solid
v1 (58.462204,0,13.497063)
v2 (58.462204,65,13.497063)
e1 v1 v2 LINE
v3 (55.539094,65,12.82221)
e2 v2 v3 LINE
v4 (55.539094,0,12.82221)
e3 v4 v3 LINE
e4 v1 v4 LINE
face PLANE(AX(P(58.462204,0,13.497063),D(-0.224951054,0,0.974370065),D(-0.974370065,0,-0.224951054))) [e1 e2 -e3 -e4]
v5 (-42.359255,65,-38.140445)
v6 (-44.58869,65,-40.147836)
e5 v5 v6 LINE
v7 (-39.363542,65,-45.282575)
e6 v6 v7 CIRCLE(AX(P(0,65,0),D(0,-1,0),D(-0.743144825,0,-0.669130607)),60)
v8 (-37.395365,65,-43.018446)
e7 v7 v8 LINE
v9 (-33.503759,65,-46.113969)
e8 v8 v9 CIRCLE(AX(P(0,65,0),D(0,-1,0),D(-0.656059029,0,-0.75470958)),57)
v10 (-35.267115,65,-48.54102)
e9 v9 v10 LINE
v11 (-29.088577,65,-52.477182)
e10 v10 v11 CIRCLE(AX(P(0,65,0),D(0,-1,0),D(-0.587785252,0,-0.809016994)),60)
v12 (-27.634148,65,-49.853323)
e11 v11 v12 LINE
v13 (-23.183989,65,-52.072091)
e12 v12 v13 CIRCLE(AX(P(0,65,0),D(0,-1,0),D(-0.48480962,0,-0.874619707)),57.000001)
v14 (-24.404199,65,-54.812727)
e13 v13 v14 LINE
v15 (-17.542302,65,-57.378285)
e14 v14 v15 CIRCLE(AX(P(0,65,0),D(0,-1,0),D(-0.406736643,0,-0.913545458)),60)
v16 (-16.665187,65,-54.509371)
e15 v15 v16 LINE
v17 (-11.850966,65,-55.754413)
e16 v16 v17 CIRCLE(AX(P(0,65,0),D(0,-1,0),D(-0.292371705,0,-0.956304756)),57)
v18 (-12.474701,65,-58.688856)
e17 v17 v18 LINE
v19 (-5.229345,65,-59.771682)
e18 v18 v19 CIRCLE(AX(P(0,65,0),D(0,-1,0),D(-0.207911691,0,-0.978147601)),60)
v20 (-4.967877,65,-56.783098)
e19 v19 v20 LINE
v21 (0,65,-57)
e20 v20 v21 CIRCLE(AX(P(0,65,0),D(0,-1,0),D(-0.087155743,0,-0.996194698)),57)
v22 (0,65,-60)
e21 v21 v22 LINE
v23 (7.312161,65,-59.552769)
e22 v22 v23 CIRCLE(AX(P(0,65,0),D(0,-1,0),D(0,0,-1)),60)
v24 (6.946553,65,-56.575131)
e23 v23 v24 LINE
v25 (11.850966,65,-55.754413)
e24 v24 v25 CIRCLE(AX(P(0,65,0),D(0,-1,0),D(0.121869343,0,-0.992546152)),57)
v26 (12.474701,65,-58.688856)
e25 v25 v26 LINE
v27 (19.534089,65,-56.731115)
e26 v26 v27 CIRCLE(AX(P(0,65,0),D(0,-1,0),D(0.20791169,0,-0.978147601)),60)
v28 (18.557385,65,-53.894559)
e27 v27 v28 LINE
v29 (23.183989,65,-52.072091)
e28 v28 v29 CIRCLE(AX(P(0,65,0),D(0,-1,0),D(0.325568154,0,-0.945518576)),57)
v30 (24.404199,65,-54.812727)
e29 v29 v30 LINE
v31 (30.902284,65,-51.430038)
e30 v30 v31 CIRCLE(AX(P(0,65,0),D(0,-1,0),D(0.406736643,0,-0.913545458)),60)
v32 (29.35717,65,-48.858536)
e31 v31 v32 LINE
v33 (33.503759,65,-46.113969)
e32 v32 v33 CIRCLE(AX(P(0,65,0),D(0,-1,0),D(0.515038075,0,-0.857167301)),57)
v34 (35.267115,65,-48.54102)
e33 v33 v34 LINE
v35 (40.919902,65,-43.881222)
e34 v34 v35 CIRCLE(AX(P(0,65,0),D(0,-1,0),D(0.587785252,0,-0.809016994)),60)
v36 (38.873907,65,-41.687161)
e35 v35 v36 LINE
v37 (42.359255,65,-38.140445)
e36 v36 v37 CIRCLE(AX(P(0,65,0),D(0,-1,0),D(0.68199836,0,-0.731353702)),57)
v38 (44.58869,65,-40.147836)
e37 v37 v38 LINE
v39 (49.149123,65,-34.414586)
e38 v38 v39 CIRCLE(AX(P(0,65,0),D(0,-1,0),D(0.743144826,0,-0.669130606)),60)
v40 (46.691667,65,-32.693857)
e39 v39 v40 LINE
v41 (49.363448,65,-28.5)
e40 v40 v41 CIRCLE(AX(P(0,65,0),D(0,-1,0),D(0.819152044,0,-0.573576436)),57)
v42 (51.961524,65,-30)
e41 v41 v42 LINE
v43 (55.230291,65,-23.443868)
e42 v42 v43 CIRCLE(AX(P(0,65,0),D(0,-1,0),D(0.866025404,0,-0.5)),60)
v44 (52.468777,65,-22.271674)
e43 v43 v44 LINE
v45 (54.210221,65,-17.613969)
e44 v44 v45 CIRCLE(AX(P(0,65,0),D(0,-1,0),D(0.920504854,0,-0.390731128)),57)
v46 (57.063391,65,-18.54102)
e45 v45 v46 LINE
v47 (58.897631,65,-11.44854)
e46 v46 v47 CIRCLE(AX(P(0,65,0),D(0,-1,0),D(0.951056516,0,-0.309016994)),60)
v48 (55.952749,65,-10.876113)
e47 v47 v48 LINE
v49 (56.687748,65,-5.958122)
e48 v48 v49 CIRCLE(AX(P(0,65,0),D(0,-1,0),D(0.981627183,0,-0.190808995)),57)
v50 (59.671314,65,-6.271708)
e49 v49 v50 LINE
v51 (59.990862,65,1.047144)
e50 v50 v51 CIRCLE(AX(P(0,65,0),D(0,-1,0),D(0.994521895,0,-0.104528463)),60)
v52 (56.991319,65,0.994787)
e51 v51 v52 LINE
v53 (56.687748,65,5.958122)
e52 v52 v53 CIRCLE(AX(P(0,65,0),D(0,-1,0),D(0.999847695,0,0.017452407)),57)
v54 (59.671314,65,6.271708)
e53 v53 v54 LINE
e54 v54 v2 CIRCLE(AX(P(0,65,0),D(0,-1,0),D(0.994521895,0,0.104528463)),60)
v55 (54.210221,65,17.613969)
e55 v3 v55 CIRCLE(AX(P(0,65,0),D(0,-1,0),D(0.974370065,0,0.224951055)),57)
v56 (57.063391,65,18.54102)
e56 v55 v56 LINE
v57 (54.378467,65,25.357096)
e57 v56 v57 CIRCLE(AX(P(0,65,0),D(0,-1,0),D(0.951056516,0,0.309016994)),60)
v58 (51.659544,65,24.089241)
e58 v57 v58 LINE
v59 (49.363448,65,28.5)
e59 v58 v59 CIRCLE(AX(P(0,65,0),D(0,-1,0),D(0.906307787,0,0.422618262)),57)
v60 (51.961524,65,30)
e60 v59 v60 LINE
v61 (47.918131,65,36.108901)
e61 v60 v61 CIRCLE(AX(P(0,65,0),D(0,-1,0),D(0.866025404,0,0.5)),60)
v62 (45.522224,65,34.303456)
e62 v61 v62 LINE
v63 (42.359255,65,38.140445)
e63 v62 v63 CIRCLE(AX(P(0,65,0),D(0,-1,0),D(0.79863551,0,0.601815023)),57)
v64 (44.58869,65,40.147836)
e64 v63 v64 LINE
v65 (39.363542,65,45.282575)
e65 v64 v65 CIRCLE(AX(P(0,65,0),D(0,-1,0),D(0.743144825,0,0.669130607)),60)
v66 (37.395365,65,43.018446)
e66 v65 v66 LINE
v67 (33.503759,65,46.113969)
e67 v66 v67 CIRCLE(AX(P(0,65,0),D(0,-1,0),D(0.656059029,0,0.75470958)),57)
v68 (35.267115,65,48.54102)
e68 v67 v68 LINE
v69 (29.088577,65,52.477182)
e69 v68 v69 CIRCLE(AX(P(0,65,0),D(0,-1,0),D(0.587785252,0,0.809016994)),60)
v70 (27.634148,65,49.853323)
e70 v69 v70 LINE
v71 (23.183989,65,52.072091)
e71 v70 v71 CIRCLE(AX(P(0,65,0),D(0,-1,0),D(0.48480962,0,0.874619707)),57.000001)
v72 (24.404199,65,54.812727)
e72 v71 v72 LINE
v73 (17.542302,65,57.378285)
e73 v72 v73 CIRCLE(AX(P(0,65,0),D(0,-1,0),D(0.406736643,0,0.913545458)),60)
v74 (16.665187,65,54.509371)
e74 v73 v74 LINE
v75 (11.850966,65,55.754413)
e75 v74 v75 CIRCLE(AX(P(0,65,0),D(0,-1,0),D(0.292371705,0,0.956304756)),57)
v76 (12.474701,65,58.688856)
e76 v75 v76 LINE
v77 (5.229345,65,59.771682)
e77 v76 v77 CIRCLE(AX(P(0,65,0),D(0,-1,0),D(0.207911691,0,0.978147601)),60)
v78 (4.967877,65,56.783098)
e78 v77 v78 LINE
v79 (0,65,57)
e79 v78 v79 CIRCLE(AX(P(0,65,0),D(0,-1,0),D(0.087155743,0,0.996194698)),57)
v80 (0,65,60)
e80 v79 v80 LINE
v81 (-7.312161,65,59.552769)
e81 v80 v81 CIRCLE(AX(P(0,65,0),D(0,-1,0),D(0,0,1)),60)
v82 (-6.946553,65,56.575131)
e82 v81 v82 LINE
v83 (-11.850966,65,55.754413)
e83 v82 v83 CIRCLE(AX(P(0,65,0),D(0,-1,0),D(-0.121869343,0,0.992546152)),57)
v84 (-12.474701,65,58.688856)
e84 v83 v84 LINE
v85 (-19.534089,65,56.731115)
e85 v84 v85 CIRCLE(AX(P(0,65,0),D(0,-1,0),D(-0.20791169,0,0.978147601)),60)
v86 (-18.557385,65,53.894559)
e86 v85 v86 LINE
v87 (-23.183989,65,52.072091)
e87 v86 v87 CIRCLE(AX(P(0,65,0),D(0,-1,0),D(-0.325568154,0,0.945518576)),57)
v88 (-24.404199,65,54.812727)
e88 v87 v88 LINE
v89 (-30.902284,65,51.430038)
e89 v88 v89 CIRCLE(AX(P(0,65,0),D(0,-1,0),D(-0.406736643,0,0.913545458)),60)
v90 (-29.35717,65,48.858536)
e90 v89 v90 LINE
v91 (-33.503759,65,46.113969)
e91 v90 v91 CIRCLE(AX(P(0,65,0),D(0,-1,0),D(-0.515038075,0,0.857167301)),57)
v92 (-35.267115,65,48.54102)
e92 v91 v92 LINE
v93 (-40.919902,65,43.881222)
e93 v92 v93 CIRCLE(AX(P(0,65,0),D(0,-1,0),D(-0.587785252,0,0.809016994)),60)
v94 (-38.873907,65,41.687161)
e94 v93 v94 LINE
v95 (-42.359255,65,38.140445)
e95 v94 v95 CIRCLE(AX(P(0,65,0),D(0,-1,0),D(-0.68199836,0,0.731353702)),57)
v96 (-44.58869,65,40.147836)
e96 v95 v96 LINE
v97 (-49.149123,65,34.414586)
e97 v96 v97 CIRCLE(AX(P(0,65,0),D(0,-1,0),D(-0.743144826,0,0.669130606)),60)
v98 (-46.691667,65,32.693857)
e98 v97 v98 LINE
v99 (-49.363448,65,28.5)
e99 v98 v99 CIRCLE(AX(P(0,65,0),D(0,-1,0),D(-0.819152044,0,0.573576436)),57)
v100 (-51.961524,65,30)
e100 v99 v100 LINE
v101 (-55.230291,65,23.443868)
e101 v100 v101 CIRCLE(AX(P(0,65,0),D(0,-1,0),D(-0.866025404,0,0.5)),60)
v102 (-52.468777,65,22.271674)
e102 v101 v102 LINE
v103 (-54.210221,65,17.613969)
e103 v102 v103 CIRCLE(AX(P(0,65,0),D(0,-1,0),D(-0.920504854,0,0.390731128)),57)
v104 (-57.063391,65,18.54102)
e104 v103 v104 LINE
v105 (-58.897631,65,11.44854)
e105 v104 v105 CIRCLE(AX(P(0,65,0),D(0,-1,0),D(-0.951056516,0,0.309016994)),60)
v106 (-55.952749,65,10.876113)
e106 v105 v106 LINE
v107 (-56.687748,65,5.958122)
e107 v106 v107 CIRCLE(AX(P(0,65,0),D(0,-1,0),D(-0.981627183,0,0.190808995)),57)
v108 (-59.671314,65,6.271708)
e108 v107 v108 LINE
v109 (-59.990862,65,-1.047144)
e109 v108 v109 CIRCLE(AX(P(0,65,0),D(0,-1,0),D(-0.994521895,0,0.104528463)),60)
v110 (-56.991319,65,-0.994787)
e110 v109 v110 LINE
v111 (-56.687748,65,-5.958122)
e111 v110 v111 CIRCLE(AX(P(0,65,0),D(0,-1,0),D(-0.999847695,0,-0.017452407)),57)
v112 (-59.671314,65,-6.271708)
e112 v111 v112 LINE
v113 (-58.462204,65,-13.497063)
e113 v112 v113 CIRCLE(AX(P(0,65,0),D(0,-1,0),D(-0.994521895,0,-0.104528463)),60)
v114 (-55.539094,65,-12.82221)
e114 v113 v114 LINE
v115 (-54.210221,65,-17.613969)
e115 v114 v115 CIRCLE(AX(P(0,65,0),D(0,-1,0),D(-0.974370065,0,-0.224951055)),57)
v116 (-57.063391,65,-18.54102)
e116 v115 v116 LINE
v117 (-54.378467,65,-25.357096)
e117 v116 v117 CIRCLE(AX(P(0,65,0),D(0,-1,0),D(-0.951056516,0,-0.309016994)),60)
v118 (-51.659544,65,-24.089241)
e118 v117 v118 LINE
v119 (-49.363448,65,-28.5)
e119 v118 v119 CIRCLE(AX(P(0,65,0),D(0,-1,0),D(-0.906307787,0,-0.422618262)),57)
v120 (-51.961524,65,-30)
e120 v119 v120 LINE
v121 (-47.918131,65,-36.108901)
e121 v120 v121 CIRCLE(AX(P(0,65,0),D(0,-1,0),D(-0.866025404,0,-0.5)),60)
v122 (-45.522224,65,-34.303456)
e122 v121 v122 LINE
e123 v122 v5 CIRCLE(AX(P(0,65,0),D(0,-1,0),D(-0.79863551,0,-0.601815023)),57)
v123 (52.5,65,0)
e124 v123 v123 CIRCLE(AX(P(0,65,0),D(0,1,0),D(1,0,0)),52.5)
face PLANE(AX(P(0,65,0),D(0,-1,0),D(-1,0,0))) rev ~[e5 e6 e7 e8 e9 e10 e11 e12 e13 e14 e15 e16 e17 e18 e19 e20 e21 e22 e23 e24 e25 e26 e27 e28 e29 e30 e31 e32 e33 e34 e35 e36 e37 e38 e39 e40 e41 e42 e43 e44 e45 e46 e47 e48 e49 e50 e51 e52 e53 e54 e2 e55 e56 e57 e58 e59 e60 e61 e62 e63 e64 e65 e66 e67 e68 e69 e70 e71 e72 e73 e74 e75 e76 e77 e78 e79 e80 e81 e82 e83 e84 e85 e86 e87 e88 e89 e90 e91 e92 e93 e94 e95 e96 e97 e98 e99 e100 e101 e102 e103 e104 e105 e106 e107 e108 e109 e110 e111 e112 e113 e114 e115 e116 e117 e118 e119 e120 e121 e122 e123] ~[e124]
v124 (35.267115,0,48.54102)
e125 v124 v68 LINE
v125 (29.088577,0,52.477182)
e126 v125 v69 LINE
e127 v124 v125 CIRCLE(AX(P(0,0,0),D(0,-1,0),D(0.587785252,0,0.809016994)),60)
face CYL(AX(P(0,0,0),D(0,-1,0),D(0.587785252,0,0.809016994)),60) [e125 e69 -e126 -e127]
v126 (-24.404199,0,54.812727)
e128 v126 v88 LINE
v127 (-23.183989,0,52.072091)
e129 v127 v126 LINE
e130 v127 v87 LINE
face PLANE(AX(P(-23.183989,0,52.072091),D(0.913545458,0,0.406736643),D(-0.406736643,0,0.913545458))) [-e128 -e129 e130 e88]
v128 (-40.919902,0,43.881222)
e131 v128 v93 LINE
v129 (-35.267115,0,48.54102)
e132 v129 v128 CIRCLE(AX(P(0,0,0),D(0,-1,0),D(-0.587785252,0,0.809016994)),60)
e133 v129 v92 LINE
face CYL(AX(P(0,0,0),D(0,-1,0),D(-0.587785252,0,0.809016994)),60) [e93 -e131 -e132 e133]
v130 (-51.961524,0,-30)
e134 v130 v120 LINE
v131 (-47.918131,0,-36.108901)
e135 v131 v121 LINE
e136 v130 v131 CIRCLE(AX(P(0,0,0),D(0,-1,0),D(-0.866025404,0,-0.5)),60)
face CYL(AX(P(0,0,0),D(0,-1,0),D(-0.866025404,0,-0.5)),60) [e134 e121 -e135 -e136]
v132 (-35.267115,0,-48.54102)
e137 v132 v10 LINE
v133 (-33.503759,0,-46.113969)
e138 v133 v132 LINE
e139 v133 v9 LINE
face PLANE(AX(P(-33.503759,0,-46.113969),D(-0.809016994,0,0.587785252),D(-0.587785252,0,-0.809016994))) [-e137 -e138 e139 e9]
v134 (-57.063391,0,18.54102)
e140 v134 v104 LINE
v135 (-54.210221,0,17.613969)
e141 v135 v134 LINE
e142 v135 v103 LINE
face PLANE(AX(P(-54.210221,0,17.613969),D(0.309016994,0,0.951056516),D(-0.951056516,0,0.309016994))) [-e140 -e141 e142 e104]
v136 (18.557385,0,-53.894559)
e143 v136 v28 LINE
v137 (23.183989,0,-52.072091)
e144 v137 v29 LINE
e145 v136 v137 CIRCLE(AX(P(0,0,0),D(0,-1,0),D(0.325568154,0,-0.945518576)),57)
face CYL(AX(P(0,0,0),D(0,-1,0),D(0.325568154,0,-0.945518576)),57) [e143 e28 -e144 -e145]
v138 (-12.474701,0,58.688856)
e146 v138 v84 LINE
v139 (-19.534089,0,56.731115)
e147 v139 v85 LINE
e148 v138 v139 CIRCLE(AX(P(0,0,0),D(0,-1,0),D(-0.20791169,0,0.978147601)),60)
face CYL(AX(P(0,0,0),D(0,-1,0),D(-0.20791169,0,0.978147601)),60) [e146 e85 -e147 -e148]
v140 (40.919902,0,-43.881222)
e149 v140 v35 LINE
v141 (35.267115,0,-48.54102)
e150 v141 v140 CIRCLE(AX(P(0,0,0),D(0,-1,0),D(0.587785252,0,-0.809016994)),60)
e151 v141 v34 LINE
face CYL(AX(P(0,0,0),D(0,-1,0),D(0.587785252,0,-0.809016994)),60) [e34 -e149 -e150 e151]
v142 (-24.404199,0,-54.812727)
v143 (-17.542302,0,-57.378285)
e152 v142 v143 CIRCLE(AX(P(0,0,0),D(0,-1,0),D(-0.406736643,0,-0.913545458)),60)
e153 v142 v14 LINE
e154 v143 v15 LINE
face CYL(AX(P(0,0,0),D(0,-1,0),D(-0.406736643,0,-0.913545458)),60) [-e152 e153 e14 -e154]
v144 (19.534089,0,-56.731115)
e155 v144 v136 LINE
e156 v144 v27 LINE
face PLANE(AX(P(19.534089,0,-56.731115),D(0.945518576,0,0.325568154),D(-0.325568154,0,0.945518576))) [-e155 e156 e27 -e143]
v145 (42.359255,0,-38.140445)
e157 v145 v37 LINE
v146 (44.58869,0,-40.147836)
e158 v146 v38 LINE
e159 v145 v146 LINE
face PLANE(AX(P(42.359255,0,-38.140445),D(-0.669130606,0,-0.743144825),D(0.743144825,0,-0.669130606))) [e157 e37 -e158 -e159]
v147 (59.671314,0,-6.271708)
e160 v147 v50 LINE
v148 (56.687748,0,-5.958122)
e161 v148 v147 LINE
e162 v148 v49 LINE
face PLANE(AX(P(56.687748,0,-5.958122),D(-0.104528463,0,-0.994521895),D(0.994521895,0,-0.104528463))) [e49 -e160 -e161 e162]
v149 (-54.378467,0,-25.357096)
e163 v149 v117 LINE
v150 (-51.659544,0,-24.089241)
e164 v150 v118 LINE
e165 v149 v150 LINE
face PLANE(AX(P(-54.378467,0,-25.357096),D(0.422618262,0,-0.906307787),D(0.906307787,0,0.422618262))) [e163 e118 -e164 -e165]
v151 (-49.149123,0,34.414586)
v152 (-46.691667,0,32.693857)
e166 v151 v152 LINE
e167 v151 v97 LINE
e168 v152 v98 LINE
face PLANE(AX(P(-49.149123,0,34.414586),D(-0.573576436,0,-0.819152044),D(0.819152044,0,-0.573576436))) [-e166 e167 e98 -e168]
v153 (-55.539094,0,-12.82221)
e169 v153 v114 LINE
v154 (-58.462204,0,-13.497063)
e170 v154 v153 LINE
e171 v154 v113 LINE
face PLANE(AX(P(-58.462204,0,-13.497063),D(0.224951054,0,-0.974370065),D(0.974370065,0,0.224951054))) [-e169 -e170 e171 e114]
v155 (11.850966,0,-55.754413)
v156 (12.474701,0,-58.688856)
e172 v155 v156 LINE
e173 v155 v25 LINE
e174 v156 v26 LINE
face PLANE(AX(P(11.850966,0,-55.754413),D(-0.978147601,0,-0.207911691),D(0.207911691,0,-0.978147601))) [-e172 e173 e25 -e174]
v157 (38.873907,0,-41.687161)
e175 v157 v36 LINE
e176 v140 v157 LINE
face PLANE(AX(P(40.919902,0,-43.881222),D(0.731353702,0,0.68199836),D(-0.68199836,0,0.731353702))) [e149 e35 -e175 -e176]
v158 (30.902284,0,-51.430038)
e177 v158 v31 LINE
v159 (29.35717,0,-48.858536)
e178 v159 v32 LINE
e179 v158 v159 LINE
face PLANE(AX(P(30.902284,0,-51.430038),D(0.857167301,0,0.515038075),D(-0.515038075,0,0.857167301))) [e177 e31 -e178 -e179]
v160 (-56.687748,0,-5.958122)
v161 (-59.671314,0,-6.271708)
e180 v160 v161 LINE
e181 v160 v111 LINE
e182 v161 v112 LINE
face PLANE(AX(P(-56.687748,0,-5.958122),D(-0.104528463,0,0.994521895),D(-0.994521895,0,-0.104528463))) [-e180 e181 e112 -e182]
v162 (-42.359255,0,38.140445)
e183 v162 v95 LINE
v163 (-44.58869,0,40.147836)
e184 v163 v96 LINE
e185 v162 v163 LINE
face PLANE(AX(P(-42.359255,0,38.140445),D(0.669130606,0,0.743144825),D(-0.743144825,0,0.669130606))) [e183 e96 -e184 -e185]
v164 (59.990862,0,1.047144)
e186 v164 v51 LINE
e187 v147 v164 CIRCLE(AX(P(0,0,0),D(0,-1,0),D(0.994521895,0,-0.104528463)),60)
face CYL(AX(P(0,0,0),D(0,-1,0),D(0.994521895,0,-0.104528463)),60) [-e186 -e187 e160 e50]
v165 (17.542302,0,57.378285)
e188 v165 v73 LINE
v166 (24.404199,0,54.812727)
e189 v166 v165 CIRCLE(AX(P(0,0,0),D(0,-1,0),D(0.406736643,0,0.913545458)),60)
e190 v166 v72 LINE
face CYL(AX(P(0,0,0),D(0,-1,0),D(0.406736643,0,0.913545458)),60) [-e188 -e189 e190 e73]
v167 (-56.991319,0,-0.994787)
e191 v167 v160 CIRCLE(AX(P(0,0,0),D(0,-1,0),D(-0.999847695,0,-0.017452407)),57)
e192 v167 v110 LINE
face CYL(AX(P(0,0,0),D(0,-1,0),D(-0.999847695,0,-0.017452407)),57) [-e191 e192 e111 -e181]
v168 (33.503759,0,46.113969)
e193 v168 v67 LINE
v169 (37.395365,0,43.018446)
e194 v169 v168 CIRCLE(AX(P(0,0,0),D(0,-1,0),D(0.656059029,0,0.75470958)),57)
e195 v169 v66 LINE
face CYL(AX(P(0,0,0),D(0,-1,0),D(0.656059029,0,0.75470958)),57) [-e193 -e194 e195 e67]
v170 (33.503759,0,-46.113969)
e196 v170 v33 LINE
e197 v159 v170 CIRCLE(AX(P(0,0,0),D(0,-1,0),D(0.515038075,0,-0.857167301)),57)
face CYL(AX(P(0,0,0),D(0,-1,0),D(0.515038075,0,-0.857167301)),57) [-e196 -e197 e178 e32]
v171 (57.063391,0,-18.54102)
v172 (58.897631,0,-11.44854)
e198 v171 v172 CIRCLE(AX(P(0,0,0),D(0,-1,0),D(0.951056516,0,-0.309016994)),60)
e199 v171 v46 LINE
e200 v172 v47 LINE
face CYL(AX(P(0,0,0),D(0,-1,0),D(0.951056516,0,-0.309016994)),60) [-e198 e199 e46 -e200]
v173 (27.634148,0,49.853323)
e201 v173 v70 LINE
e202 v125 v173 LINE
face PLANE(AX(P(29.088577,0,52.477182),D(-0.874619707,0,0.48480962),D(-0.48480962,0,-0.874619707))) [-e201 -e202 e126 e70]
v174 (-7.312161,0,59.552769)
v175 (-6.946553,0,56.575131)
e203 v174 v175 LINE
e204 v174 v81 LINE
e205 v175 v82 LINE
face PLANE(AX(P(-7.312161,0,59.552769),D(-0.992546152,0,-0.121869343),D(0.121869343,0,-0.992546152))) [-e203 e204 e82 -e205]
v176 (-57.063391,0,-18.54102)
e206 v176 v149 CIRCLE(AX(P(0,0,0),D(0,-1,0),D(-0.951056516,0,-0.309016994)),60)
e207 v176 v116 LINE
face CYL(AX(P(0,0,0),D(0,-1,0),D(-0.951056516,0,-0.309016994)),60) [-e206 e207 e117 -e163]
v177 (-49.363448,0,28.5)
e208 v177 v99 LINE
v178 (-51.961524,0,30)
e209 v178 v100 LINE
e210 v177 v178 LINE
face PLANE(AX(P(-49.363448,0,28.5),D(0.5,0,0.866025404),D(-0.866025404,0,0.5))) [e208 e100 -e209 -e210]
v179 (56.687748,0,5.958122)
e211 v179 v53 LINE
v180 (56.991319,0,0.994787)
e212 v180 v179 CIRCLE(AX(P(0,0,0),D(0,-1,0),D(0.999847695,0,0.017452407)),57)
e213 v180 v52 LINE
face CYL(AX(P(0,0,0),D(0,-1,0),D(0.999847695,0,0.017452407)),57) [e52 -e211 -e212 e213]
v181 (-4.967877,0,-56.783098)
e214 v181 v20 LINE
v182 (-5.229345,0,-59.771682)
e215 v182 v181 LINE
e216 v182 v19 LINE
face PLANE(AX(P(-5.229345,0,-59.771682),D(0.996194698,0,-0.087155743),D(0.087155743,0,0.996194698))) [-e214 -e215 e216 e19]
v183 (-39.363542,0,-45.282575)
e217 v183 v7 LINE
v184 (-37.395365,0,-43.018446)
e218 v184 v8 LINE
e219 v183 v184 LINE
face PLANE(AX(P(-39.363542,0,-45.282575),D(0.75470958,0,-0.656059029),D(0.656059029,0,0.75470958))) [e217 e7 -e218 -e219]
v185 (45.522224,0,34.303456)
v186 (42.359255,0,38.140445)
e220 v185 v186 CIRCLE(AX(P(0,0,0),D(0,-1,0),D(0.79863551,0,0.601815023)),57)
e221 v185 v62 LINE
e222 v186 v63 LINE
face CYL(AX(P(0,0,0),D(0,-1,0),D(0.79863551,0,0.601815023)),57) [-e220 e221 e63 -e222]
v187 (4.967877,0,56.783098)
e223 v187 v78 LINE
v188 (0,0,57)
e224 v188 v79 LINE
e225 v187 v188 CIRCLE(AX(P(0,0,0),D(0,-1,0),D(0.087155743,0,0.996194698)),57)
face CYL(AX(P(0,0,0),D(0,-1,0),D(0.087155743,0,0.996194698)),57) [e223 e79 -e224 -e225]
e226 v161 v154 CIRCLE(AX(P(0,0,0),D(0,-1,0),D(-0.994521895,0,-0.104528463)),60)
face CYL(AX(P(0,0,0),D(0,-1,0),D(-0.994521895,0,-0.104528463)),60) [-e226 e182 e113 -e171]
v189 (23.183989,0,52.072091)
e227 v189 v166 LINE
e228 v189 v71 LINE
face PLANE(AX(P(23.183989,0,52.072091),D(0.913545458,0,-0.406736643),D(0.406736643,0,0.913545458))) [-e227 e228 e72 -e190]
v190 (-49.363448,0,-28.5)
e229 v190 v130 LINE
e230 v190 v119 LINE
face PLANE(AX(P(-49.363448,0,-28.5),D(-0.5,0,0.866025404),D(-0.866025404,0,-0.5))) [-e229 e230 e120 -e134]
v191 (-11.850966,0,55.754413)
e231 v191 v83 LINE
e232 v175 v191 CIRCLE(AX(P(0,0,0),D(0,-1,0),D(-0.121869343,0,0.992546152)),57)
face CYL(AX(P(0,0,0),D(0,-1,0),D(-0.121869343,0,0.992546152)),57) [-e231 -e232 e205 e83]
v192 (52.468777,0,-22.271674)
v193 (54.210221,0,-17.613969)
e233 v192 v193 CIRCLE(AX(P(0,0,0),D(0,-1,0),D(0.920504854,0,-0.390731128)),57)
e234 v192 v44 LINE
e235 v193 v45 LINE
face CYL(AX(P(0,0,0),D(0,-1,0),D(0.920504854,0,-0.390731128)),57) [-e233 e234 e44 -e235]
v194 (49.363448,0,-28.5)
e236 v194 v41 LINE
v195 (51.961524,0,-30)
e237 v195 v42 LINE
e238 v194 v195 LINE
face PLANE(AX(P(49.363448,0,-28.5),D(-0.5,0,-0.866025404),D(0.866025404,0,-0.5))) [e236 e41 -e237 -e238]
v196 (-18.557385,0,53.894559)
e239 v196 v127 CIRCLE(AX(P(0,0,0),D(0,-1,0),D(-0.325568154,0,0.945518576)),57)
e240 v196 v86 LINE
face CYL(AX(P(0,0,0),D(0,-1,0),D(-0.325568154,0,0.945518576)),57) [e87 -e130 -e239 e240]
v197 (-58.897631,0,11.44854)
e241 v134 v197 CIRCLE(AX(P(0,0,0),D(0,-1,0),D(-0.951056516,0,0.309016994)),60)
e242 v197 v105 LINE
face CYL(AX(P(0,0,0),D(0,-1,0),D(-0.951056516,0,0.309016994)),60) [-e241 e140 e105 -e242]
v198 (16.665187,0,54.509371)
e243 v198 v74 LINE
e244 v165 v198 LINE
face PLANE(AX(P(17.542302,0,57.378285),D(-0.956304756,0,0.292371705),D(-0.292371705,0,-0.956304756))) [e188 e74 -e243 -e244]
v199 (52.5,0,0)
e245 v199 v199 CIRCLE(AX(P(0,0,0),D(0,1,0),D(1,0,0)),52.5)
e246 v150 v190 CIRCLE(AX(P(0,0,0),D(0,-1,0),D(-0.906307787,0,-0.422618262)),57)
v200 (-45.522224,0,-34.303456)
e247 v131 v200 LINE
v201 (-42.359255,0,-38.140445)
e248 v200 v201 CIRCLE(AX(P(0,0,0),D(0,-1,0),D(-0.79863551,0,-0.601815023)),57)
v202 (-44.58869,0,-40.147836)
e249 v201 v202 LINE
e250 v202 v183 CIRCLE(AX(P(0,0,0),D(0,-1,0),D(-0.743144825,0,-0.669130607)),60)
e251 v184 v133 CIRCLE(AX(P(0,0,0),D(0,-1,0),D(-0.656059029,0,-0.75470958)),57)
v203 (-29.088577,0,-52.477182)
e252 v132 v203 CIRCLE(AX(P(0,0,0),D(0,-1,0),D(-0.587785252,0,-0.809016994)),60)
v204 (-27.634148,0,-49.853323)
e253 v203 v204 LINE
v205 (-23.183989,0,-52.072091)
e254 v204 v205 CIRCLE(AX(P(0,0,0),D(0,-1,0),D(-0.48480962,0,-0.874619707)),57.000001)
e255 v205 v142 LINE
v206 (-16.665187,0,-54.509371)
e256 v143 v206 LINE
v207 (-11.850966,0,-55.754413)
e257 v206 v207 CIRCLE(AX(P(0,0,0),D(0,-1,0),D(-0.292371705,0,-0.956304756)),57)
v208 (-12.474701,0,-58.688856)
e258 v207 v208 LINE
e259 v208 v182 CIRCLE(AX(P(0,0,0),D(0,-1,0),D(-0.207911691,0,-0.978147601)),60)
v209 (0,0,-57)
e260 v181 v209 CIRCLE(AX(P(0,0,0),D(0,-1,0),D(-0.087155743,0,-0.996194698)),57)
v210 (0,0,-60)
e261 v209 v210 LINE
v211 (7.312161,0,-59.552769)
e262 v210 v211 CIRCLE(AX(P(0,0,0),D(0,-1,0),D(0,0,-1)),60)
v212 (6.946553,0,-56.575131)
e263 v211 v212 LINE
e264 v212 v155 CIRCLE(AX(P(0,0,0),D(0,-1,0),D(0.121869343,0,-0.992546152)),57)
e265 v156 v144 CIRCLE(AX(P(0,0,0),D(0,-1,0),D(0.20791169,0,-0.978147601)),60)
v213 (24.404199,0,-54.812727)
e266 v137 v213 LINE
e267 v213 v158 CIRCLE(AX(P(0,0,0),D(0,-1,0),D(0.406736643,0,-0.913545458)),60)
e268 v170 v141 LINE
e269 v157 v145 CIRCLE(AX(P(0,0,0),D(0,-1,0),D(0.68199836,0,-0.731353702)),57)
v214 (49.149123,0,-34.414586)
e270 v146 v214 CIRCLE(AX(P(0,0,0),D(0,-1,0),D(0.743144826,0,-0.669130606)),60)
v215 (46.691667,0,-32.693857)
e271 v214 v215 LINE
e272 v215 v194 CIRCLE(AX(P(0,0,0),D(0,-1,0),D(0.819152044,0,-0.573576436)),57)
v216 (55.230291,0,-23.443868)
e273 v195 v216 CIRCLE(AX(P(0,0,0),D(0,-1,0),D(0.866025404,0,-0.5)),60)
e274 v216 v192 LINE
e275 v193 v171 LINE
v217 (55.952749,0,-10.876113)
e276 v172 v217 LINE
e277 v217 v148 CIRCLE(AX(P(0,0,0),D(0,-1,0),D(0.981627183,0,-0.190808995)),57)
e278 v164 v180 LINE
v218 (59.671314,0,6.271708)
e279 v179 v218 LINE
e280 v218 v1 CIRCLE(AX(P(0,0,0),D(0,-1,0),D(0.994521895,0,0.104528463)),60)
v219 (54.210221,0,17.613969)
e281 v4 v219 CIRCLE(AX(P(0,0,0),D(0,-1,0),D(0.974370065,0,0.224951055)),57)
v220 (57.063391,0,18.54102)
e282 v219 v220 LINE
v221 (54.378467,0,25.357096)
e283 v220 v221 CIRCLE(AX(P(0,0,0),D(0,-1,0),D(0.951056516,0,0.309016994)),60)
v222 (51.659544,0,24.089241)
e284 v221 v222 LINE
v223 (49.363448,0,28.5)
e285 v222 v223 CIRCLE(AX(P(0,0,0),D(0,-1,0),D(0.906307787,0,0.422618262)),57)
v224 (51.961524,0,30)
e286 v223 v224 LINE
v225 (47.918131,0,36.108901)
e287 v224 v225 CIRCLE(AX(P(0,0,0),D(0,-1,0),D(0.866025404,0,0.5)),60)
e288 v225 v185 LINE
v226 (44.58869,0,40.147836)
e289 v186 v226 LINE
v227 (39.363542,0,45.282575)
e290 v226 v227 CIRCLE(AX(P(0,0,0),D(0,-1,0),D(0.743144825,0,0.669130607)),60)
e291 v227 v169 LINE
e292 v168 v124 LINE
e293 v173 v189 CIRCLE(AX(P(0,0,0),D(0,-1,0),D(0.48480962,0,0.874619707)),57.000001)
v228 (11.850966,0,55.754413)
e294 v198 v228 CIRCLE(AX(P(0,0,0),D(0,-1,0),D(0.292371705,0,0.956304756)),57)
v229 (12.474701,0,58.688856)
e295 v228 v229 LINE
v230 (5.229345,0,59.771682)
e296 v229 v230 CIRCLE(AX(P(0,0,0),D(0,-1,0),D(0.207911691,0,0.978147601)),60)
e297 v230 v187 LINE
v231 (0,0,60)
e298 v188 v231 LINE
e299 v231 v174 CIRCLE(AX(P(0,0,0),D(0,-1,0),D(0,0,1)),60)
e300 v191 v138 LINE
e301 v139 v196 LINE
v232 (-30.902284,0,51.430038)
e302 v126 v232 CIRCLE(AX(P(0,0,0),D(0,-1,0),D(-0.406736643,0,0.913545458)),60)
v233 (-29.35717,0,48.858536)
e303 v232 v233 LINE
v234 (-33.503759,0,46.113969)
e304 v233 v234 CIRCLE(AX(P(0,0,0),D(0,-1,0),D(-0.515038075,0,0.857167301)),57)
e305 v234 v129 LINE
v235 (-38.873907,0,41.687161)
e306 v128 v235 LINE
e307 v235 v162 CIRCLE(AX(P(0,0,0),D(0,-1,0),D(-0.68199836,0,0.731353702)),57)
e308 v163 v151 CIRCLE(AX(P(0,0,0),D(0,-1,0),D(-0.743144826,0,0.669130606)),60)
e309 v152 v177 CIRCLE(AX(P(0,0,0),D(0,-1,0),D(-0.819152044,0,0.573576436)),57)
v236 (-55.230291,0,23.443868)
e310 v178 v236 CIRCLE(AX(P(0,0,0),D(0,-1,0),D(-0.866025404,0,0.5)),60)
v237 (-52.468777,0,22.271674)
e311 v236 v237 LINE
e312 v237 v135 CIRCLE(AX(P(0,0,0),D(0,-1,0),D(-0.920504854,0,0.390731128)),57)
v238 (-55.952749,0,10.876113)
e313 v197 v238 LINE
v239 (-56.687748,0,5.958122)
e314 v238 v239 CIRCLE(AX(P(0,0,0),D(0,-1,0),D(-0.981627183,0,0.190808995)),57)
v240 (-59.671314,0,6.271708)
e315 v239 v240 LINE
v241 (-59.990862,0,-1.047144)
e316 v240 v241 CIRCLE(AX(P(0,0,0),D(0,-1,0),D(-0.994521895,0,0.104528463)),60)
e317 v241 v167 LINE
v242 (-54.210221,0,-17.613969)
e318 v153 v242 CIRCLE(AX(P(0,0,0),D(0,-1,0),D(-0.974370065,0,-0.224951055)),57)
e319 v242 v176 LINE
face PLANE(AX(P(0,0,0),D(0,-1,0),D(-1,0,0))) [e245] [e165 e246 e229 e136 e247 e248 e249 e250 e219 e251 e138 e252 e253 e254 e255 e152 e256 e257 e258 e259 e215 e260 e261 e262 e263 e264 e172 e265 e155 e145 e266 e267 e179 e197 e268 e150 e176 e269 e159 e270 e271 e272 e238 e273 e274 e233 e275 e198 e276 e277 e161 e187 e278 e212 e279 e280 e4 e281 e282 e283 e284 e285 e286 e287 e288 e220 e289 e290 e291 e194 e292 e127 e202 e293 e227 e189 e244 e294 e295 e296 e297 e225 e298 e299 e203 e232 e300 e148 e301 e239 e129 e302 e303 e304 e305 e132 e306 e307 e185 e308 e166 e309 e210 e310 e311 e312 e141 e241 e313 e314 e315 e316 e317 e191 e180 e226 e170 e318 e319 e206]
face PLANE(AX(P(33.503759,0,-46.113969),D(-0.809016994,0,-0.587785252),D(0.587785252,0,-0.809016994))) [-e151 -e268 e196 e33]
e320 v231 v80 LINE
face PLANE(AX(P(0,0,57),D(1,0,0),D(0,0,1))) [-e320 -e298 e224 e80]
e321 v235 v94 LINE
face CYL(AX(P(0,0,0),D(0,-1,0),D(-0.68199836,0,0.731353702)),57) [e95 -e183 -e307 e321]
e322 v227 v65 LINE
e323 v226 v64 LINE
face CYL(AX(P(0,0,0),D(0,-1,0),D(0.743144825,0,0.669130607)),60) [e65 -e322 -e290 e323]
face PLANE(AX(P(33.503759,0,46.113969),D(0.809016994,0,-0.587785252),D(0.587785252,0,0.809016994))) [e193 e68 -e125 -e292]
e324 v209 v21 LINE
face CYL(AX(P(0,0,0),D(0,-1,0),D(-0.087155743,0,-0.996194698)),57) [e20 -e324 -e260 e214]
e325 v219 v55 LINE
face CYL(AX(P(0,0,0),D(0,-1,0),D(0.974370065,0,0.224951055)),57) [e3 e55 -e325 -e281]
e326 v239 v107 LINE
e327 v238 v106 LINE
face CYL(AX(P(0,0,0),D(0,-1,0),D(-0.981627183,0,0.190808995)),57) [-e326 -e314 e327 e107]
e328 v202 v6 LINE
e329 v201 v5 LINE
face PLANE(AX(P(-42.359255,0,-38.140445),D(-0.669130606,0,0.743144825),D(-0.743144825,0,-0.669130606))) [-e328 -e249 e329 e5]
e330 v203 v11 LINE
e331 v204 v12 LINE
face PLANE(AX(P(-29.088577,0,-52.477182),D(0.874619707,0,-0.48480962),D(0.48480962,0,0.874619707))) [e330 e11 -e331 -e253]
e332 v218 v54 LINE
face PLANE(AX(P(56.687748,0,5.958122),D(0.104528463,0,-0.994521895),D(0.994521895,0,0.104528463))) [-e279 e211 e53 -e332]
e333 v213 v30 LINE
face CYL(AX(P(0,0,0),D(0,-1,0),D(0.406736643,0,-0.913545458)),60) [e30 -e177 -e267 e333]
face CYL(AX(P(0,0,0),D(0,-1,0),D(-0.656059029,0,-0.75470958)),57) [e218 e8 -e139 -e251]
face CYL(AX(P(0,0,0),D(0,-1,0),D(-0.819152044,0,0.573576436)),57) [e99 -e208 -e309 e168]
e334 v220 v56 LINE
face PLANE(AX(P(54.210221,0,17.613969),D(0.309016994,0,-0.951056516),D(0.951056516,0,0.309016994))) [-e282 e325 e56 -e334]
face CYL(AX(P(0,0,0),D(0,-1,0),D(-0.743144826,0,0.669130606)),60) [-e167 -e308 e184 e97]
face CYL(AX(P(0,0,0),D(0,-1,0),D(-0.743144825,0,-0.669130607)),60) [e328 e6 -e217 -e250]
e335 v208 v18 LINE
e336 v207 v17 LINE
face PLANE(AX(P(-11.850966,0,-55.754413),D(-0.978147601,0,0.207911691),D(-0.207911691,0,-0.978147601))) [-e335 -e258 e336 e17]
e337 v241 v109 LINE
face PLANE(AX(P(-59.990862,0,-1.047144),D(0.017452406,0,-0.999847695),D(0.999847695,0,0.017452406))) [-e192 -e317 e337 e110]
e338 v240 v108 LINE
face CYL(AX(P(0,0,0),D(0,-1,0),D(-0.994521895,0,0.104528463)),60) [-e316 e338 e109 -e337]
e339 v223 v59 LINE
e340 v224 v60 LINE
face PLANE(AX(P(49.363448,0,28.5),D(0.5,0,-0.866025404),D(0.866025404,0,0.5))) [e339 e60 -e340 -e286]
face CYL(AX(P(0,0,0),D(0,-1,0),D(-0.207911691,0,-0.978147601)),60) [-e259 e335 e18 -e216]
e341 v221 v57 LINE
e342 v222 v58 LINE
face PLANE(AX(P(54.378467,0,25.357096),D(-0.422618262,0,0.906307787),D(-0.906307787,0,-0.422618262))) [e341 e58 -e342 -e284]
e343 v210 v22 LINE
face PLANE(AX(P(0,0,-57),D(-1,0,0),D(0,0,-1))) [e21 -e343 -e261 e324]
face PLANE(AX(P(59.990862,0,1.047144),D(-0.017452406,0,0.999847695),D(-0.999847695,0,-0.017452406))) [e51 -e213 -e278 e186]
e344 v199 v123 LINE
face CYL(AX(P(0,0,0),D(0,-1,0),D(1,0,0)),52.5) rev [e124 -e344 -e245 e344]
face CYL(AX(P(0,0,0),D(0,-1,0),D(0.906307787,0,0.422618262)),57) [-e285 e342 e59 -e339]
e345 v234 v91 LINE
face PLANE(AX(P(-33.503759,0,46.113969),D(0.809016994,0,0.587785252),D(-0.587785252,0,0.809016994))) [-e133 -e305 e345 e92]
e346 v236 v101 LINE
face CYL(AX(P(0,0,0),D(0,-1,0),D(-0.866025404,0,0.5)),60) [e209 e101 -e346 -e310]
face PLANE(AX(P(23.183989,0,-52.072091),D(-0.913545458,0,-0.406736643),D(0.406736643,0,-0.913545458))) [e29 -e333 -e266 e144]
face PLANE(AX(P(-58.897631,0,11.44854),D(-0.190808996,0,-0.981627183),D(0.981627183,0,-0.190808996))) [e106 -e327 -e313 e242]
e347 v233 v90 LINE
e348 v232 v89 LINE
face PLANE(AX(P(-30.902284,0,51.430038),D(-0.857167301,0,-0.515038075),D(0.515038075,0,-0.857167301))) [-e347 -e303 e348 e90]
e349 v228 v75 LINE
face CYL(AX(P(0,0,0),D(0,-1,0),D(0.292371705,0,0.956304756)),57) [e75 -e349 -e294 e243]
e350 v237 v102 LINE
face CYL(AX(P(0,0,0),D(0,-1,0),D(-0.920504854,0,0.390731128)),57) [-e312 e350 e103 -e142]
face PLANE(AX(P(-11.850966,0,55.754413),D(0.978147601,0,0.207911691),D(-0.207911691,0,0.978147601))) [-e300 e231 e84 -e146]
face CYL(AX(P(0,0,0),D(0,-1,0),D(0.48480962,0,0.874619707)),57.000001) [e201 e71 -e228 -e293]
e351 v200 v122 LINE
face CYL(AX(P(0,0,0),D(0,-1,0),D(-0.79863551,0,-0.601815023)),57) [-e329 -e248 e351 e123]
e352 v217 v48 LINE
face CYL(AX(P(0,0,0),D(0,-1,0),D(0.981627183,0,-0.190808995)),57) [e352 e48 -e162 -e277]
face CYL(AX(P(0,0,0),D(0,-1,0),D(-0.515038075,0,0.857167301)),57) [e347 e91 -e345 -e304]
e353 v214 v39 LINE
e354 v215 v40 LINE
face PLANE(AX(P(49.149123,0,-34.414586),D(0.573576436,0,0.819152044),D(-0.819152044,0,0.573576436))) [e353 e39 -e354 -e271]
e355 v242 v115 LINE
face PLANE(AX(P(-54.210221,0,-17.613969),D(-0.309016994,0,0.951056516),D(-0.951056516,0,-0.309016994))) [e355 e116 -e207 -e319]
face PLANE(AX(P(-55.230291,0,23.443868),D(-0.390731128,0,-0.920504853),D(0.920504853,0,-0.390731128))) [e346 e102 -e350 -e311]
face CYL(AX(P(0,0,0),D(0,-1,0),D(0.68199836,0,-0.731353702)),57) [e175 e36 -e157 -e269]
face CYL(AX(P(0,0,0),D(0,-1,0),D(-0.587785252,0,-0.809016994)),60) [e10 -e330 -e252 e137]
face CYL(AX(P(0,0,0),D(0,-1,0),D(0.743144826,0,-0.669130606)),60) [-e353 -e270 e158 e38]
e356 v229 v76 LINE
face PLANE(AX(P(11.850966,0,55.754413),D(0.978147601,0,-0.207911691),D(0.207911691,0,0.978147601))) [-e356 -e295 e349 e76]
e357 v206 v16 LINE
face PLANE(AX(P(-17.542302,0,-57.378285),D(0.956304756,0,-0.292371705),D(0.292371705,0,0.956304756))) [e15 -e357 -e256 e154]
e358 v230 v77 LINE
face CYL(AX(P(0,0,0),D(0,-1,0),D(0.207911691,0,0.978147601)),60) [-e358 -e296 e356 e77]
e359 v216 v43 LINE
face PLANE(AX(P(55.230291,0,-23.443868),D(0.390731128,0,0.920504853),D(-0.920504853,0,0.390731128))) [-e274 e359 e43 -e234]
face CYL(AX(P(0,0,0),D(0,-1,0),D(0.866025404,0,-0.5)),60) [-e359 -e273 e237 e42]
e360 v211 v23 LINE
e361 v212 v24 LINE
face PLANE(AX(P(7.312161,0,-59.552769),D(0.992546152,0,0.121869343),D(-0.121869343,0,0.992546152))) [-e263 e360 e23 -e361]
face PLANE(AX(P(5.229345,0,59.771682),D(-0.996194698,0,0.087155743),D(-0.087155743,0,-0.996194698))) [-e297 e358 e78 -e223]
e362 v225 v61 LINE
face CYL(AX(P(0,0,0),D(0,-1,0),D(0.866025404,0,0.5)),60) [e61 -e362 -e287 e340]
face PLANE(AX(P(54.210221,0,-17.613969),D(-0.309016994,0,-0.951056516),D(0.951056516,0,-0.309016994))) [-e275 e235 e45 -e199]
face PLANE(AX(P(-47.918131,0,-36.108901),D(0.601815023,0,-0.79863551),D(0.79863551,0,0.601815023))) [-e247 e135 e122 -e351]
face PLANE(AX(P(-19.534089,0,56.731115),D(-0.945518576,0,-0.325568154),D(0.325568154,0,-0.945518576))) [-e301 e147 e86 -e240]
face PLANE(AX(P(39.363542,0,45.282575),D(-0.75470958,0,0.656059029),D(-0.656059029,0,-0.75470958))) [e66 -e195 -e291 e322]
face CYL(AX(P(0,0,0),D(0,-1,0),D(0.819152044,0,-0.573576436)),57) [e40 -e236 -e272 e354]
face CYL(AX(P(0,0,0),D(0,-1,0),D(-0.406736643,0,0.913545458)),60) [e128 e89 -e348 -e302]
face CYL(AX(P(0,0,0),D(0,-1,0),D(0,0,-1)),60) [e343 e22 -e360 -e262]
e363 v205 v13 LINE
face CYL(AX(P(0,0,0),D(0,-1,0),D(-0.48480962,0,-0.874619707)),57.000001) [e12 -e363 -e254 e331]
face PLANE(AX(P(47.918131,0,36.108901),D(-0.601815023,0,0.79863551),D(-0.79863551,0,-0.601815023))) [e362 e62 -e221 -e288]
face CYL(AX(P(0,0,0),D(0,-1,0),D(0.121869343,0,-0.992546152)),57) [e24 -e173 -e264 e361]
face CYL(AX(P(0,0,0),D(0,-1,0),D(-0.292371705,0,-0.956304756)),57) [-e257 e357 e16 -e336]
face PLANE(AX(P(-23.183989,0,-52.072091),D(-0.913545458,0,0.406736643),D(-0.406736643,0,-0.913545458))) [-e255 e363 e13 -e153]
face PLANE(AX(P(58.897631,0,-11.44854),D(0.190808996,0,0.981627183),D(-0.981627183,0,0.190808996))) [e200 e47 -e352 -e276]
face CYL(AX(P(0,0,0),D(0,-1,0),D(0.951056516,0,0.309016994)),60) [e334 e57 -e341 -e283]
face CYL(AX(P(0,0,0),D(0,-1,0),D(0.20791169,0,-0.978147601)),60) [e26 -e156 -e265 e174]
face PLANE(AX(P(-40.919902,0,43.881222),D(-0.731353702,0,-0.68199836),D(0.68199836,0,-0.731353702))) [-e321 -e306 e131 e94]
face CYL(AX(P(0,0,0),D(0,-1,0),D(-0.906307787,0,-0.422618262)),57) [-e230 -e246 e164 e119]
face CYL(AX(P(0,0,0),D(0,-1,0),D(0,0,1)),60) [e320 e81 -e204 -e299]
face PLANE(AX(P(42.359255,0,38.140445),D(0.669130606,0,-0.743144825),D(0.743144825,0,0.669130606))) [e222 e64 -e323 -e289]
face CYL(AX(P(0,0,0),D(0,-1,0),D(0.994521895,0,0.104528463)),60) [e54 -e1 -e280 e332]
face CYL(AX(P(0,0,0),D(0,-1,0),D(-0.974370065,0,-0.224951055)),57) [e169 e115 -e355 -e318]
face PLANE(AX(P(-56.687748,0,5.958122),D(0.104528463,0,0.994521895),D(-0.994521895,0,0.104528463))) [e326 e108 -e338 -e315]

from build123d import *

# Parameters (mm, degrees)
SKETCH1_R           = 52.5
BOSS_EXTRUDE1_DEPTH = 65


with BuildPart() as part:
    # Sketch1 → Boss-Extrude1 (new body)
    with BuildSketch(Plane(origin=(0, 0, 0), x_dir=(1, 0, 0), z_dir=(0, 1, 0))):
        with BuildLine():
            Line((0, 57), (0, 60))
            ThreePointArc((0, 60), (3.662912372, 59.888087905), (7.312160604, 59.552769098))
            Line((7.312160604, 59.552769098), (6.946552574, 56.575130644))
            ThreePointArc((6.946552574, 56.575130644), (9.407713534, 56.218279288), (11.850966377, 55.754413242))
            Line((11.850966377, 55.754413242), (12.474701449, 58.688856044))
            ThreePointArc((12.474701449, 58.688856044), (16.034302565, 57.817827193), (19.534089267, 56.731114536))
            Line((19.534089267, 56.731114536), (18.557384804, 53.894558809))
            ThreePointArc((18.557384804, 53.894558809), (20.890569923, 53.033801375), (23.183988655, 52.072091086))
            Line((23.183988655, 52.072091086), (24.404198585, 54.812727459))
            ThreePointArc((24.404198585, 54.812727459), (27.704916794, 53.220649991), (30.902284495, 51.430038042))
            Line((30.902284495, 51.430038042), (29.35717027, 48.85853614))
            ThreePointArc((29.35717027, 48.85853614), (31.460408163, 47.531491858), (33.503759381, 46.113968679))
            Line((33.503759381, 46.113968679), (35.267115138, 48.541019662))
            ThreePointArc((35.267115138, 48.541019662), (38.164693217, 46.297475003), (40.919901604, 43.881222097))
            Line((40.919901604, 43.881222097), (38.873906524, 41.687160992))
            ThreePointArc((38.873906524, 41.687160992), (40.655275602, 39.951828065), (42.359255052, 38.140444562))
            Line((42.359255052, 38.140444562), (44.588689529, 40.147836382))
            ThreePointArc((44.588689529, 40.147836382), (46.956489411, 37.350878198), (49.149122657, 34.414586181))
            Line((49.149122657, 34.414586181), (46.691666524, 32.693856872))
            ThreePointArc((46.691666524, 32.693856872), (48.073312411, 30.626077676), (49.363448016, 28.5))
            Line((49.363448016, 28.5), (51.961524227, 30))
            ThreePointArc((51.961524227, 30), (53.696061696, 26.771868787), (55.230291207, 23.443867709))
            Line((55.230291207, 23.443867709), (52.468776647, 22.271674324))
            ThreePointArc((52.468776647, 22.271674324), (53.390314787, 19.961820732), (54.210221429, 17.613968679))
            Line((54.210221429, 17.613968679), (57.063390978, 18.541019662))
            ThreePointArc((57.063390978, 18.541019662), (58.088858423, 15.022800243), (58.897631007, 11.448539723))
            Line((58.897631007, 11.448539723), (55.952749457, 10.876112736))
            ThreePointArc((55.952749457, 10.876112736), (56.373904212, 8.425136434), (56.687748036, 5.958122406))
            Line((56.687748036, 5.958122406), (59.671313722, 6.271707796))
            ThreePointArc((59.671313722, 6.271707796), (59.942893295, 2.617163242), (59.990861709, -1.047144386))
            Line((59.990861709, -1.047144386), (56.991318624, -0.994787167))
            ThreePointArc((56.991318624, -0.994787167), (56.89368351, -3.479766753), (56.687748036, -5.958122406))
            Line((56.687748036, -5.958122406), (59.671313722, -6.271707796))
            ThreePointArc((59.671313722, -6.271707796), (59.177136092, -9.902856352), (58.462203887, -13.497063261))
            Line((58.462203887, -13.497063261), (55.539093693, -12.822210098))
            ThreePointArc((55.539093693, -12.822210098), (54.926935833, -15.232587436), (54.210221429, -17.613968679))
            Line((54.210221429, -17.613968679), (57.063390978, -18.541019662))
            ThreePointArc((57.063390978, -18.541019662), (55.825054079, -21.990073603), (54.378467222, -25.357095704))
            Line((54.378467222, -25.357095704), (51.659543861, -24.089240919))
            ThreePointArc((51.659543861, -24.089240919), (50.559617491, -26.319670954), (49.363448016, -28.5))
            Line((49.363448016, -28.5), (51.961524227, -30))
            ThreePointArc((51.961524227, -30), (50.033149324, -33.116219119), (47.918130603, -36.108901389))
            Line((47.918130603, -36.108901389), (45.522224073, -34.30345632))
            ThreePointArc((45.522224073, -34.30345632), (43.982601253, -36.256458556), (42.359255052, -38.140444562))
            Line((42.359255052, -38.140444562), (44.588689529, -40.147836382))
            ThreePointArc((44.588689529, -40.147836382), (42.054555858, -42.795026949), (39.363541739, -45.282574813))
            Line((39.363541739, -45.282574813), (37.395364652, -43.018446073))
            ThreePointArc((37.395364652, -43.018446073), (35.483334288, -44.608664941), (33.503759381, -46.113968679))
            Line((33.503759381, -46.113968679), (35.267115138, -48.541019662))
            ThreePointArc((35.267115138, -48.541019662), (32.237976501, -50.603486749), (29.088577215, -52.477182428))
            Line((29.088577215, -52.477182428), (27.634148354, -49.853323307))
            ThreePointArc((27.634148354, -49.853323307), (25.433275347, -51.011258611), (23.183988655, -52.072091086))
            Line((23.183988655, -52.072091086), (24.404198585, -54.812727459))
            ThreePointArc((24.404198585, -54.812727459), (21.012442876, -56.200331355), (17.542302283, -57.378285358))
            Line((17.542302283, -57.378285358), (16.665187169, -54.50937109))
            ThreePointArc((16.665187169, -54.50937109), (14.271660231, -55.184415502), (11.850966377, -55.754413242))
            Line((11.850966377, -55.754413242), (12.474701449, -58.688856044))
            ThreePointArc((12.474701449, -58.688856044), (8.868564668, -59.340951802), (5.229344565, -59.771681886))
            Line((5.229344565, -59.771681886), (4.967877337, -56.783097791))
            ThreePointArc((4.967877337, -56.783097791), (2.48630508, -56.94574863), (0, -57))
            Line((0, -57), (0, -60))
            ThreePointArc((0, -60), (-3.662912372, -59.888087905), (-7.312160604, -59.552769098))
            Line((-7.312160604, -59.552769098), (-6.946552574, -56.575130644))
            ThreePointArc((-6.946552574, -56.575130644), (-9.407713534, -56.218279288), (-11.850966377, -55.754413242))
            Line((-11.850966377, -55.754413242), (-12.474701449, -58.688856044))
            ThreePointArc((-12.474701449, -58.688856044), (-16.034302565, -57.817827193), (-19.534089267, -56.731114536))
            Line((-19.534089267, -56.731114536), (-18.557384804, -53.894558809))
            ThreePointArc((-18.557384804, -53.894558809), (-20.890569923, -53.033801375), (-23.183988655, -52.072091086))
            Line((-23.183988655, -52.072091086), (-24.404198585, -54.812727459))
            ThreePointArc((-24.404198585, -54.812727459), (-27.704916794, -53.220649991), (-30.902284495, -51.430038042))
            Line((-30.902284495, -51.430038042), (-29.35717027, -48.85853614))
            ThreePointArc((-29.35717027, -48.85853614), (-31.460408163, -47.531491858), (-33.503759381, -46.113968679))
            Line((-33.503759381, -46.113968679), (-35.267115138, -48.541019662))
            ThreePointArc((-35.267115138, -48.541019662), (-38.164693217, -46.297475003), (-40.919901604, -43.881222097))
            Line((-40.919901604, -43.881222097), (-38.873906524, -41.687160992))
            ThreePointArc((-38.873906524, -41.687160992), (-40.655275602, -39.951828065), (-42.359255052, -38.140444562))
            Line((-42.359255052, -38.140444562), (-44.588689529, -40.147836382))
            ThreePointArc((-44.588689529, -40.147836382), (-46.956489411, -37.350878198), (-49.149122657, -34.414586181))
            Line((-49.149122657, -34.414586181), (-46.691666524, -32.693856872))
            ThreePointArc((-46.691666524, -32.693856872), (-48.073312411, -30.626077676), (-49.363448016, -28.5))
            Line((-49.363448016, -28.5), (-51.961524227, -30))
            ThreePointArc((-51.961524227, -30), (-53.696061696, -26.771868787), (-55.230291207, -23.443867709))
            Line((-55.230291207, -23.443867709), (-52.468776647, -22.271674324))
            ThreePointArc((-52.468776647, -22.271674324), (-53.390314787, -19.961820732), (-54.210221429, -17.613968679))
            Line((-54.210221429, -17.613968679), (-57.063390978, -18.541019662))
            ThreePointArc((-57.063390978, -18.541019662), (-58.088858423, -15.022800243), (-58.897631007, -11.448539723))
            Line((-58.897631007, -11.448539723), (-55.952749457, -10.876112736))
            ThreePointArc((-55.952749457, -10.876112736), (-56.373904212, -8.425136434), (-56.687748036, -5.958122406))
            Line((-56.687748036, -5.958122406), (-59.671313722, -6.271707796))
            ThreePointArc((-59.671313722, -6.271707796), (-59.942893295, -2.617163242), (-59.990861709, 1.047144386))
            Line((-59.990861709, 1.047144386), (-56.991318624, 0.994787167))
            ThreePointArc((-56.991318624, 0.994787167), (-56.89368351, 3.479766753), (-56.687748036, 5.958122406))
            Line((-56.687748036, 5.958122406), (-59.671313722, 6.271707796))
            ThreePointArc((-59.671313722, 6.271707796), (-59.177136092, 9.902856352), (-58.462203887, 13.497063261))
            Line((-58.462203887, 13.497063261), (-55.539093693, 12.822210098))
            ThreePointArc((-55.539093693, 12.822210098), (-54.926935833, 15.232587436), (-54.210221429, 17.613968679))
            Line((-54.210221429, 17.613968679), (-57.063390978, 18.541019662))
            ThreePointArc((-57.063390978, 18.541019662), (-55.825054079, 21.990073603), (-54.378467222, 25.357095704))
            Line((-54.378467222, 25.357095704), (-51.659543861, 24.089240919))
            ThreePointArc((-51.659543861, 24.089240919), (-50.559617491, 26.319670954), (-49.363448016, 28.5))
            Line((-49.363448016, 28.5), (-51.961524227, 30))
            ThreePointArc((-51.961524227, 30), (-50.033149324, 33.116219119), (-47.918130603, 36.108901389))
            Line((-47.918130603, 36.108901389), (-45.522224073, 34.30345632))
            ThreePointArc((-45.522224073, 34.30345632), (-43.982601253, 36.256458556), (-42.359255052, 38.140444562))
            Line((-42.359255052, 38.140444562), (-44.588689529, 40.147836382))
            ThreePointArc((-44.588689529, 40.147836382), (-42.054555858, 42.795026949), (-39.363541739, 45.282574813))
            Line((-39.363541739, 45.282574813), (-37.395364652, 43.018446073))
            ThreePointArc((-37.395364652, 43.018446073), (-35.483334288, 44.608664941), (-33.503759381, 46.113968679))
            Line((-33.503759381, 46.113968679), (-35.267115138, 48.541019662))
            ThreePointArc((-35.267115138, 48.541019662), (-32.237976501, 50.603486749), (-29.088577215, 52.477182428))
            Line((-29.088577215, 52.477182428), (-27.634148354, 49.853323307))
            ThreePointArc((-27.634148354, 49.853323307), (-25.433275347, 51.011258611), (-23.183988655, 52.072091086))
            Line((-23.183988655, 52.072091086), (-24.404198585, 54.812727459))
            ThreePointArc((-24.404198585, 54.812727459), (-21.012442876, 56.200331355), (-17.542302283, 57.378285358))
            Line((-17.542302283, 57.378285358), (-16.665187169, 54.50937109))
            ThreePointArc((-16.665187169, 54.50937109), (-14.271660231, 55.184415502), (-11.850966377, 55.754413242))
            Line((-11.850966377, 55.754413242), (-12.474701449, 58.688856044))
            ThreePointArc((-12.474701449, 58.688856044), (-8.868564668, 59.340951802), (-5.229344565, 59.771681886))
            Line((-5.229344565, 59.771681886), (-4.967877337, 56.783097791))
            ThreePointArc((-4.967877337, 56.783097791), (-2.48630508, 56.94574863), (0, 57))
        make_face()
        Circle(SKETCH1_R, mode=Mode.SUBTRACT)
    extrude(amount=BOSS_EXTRUDE1_DEPTH)


solid = part.part
